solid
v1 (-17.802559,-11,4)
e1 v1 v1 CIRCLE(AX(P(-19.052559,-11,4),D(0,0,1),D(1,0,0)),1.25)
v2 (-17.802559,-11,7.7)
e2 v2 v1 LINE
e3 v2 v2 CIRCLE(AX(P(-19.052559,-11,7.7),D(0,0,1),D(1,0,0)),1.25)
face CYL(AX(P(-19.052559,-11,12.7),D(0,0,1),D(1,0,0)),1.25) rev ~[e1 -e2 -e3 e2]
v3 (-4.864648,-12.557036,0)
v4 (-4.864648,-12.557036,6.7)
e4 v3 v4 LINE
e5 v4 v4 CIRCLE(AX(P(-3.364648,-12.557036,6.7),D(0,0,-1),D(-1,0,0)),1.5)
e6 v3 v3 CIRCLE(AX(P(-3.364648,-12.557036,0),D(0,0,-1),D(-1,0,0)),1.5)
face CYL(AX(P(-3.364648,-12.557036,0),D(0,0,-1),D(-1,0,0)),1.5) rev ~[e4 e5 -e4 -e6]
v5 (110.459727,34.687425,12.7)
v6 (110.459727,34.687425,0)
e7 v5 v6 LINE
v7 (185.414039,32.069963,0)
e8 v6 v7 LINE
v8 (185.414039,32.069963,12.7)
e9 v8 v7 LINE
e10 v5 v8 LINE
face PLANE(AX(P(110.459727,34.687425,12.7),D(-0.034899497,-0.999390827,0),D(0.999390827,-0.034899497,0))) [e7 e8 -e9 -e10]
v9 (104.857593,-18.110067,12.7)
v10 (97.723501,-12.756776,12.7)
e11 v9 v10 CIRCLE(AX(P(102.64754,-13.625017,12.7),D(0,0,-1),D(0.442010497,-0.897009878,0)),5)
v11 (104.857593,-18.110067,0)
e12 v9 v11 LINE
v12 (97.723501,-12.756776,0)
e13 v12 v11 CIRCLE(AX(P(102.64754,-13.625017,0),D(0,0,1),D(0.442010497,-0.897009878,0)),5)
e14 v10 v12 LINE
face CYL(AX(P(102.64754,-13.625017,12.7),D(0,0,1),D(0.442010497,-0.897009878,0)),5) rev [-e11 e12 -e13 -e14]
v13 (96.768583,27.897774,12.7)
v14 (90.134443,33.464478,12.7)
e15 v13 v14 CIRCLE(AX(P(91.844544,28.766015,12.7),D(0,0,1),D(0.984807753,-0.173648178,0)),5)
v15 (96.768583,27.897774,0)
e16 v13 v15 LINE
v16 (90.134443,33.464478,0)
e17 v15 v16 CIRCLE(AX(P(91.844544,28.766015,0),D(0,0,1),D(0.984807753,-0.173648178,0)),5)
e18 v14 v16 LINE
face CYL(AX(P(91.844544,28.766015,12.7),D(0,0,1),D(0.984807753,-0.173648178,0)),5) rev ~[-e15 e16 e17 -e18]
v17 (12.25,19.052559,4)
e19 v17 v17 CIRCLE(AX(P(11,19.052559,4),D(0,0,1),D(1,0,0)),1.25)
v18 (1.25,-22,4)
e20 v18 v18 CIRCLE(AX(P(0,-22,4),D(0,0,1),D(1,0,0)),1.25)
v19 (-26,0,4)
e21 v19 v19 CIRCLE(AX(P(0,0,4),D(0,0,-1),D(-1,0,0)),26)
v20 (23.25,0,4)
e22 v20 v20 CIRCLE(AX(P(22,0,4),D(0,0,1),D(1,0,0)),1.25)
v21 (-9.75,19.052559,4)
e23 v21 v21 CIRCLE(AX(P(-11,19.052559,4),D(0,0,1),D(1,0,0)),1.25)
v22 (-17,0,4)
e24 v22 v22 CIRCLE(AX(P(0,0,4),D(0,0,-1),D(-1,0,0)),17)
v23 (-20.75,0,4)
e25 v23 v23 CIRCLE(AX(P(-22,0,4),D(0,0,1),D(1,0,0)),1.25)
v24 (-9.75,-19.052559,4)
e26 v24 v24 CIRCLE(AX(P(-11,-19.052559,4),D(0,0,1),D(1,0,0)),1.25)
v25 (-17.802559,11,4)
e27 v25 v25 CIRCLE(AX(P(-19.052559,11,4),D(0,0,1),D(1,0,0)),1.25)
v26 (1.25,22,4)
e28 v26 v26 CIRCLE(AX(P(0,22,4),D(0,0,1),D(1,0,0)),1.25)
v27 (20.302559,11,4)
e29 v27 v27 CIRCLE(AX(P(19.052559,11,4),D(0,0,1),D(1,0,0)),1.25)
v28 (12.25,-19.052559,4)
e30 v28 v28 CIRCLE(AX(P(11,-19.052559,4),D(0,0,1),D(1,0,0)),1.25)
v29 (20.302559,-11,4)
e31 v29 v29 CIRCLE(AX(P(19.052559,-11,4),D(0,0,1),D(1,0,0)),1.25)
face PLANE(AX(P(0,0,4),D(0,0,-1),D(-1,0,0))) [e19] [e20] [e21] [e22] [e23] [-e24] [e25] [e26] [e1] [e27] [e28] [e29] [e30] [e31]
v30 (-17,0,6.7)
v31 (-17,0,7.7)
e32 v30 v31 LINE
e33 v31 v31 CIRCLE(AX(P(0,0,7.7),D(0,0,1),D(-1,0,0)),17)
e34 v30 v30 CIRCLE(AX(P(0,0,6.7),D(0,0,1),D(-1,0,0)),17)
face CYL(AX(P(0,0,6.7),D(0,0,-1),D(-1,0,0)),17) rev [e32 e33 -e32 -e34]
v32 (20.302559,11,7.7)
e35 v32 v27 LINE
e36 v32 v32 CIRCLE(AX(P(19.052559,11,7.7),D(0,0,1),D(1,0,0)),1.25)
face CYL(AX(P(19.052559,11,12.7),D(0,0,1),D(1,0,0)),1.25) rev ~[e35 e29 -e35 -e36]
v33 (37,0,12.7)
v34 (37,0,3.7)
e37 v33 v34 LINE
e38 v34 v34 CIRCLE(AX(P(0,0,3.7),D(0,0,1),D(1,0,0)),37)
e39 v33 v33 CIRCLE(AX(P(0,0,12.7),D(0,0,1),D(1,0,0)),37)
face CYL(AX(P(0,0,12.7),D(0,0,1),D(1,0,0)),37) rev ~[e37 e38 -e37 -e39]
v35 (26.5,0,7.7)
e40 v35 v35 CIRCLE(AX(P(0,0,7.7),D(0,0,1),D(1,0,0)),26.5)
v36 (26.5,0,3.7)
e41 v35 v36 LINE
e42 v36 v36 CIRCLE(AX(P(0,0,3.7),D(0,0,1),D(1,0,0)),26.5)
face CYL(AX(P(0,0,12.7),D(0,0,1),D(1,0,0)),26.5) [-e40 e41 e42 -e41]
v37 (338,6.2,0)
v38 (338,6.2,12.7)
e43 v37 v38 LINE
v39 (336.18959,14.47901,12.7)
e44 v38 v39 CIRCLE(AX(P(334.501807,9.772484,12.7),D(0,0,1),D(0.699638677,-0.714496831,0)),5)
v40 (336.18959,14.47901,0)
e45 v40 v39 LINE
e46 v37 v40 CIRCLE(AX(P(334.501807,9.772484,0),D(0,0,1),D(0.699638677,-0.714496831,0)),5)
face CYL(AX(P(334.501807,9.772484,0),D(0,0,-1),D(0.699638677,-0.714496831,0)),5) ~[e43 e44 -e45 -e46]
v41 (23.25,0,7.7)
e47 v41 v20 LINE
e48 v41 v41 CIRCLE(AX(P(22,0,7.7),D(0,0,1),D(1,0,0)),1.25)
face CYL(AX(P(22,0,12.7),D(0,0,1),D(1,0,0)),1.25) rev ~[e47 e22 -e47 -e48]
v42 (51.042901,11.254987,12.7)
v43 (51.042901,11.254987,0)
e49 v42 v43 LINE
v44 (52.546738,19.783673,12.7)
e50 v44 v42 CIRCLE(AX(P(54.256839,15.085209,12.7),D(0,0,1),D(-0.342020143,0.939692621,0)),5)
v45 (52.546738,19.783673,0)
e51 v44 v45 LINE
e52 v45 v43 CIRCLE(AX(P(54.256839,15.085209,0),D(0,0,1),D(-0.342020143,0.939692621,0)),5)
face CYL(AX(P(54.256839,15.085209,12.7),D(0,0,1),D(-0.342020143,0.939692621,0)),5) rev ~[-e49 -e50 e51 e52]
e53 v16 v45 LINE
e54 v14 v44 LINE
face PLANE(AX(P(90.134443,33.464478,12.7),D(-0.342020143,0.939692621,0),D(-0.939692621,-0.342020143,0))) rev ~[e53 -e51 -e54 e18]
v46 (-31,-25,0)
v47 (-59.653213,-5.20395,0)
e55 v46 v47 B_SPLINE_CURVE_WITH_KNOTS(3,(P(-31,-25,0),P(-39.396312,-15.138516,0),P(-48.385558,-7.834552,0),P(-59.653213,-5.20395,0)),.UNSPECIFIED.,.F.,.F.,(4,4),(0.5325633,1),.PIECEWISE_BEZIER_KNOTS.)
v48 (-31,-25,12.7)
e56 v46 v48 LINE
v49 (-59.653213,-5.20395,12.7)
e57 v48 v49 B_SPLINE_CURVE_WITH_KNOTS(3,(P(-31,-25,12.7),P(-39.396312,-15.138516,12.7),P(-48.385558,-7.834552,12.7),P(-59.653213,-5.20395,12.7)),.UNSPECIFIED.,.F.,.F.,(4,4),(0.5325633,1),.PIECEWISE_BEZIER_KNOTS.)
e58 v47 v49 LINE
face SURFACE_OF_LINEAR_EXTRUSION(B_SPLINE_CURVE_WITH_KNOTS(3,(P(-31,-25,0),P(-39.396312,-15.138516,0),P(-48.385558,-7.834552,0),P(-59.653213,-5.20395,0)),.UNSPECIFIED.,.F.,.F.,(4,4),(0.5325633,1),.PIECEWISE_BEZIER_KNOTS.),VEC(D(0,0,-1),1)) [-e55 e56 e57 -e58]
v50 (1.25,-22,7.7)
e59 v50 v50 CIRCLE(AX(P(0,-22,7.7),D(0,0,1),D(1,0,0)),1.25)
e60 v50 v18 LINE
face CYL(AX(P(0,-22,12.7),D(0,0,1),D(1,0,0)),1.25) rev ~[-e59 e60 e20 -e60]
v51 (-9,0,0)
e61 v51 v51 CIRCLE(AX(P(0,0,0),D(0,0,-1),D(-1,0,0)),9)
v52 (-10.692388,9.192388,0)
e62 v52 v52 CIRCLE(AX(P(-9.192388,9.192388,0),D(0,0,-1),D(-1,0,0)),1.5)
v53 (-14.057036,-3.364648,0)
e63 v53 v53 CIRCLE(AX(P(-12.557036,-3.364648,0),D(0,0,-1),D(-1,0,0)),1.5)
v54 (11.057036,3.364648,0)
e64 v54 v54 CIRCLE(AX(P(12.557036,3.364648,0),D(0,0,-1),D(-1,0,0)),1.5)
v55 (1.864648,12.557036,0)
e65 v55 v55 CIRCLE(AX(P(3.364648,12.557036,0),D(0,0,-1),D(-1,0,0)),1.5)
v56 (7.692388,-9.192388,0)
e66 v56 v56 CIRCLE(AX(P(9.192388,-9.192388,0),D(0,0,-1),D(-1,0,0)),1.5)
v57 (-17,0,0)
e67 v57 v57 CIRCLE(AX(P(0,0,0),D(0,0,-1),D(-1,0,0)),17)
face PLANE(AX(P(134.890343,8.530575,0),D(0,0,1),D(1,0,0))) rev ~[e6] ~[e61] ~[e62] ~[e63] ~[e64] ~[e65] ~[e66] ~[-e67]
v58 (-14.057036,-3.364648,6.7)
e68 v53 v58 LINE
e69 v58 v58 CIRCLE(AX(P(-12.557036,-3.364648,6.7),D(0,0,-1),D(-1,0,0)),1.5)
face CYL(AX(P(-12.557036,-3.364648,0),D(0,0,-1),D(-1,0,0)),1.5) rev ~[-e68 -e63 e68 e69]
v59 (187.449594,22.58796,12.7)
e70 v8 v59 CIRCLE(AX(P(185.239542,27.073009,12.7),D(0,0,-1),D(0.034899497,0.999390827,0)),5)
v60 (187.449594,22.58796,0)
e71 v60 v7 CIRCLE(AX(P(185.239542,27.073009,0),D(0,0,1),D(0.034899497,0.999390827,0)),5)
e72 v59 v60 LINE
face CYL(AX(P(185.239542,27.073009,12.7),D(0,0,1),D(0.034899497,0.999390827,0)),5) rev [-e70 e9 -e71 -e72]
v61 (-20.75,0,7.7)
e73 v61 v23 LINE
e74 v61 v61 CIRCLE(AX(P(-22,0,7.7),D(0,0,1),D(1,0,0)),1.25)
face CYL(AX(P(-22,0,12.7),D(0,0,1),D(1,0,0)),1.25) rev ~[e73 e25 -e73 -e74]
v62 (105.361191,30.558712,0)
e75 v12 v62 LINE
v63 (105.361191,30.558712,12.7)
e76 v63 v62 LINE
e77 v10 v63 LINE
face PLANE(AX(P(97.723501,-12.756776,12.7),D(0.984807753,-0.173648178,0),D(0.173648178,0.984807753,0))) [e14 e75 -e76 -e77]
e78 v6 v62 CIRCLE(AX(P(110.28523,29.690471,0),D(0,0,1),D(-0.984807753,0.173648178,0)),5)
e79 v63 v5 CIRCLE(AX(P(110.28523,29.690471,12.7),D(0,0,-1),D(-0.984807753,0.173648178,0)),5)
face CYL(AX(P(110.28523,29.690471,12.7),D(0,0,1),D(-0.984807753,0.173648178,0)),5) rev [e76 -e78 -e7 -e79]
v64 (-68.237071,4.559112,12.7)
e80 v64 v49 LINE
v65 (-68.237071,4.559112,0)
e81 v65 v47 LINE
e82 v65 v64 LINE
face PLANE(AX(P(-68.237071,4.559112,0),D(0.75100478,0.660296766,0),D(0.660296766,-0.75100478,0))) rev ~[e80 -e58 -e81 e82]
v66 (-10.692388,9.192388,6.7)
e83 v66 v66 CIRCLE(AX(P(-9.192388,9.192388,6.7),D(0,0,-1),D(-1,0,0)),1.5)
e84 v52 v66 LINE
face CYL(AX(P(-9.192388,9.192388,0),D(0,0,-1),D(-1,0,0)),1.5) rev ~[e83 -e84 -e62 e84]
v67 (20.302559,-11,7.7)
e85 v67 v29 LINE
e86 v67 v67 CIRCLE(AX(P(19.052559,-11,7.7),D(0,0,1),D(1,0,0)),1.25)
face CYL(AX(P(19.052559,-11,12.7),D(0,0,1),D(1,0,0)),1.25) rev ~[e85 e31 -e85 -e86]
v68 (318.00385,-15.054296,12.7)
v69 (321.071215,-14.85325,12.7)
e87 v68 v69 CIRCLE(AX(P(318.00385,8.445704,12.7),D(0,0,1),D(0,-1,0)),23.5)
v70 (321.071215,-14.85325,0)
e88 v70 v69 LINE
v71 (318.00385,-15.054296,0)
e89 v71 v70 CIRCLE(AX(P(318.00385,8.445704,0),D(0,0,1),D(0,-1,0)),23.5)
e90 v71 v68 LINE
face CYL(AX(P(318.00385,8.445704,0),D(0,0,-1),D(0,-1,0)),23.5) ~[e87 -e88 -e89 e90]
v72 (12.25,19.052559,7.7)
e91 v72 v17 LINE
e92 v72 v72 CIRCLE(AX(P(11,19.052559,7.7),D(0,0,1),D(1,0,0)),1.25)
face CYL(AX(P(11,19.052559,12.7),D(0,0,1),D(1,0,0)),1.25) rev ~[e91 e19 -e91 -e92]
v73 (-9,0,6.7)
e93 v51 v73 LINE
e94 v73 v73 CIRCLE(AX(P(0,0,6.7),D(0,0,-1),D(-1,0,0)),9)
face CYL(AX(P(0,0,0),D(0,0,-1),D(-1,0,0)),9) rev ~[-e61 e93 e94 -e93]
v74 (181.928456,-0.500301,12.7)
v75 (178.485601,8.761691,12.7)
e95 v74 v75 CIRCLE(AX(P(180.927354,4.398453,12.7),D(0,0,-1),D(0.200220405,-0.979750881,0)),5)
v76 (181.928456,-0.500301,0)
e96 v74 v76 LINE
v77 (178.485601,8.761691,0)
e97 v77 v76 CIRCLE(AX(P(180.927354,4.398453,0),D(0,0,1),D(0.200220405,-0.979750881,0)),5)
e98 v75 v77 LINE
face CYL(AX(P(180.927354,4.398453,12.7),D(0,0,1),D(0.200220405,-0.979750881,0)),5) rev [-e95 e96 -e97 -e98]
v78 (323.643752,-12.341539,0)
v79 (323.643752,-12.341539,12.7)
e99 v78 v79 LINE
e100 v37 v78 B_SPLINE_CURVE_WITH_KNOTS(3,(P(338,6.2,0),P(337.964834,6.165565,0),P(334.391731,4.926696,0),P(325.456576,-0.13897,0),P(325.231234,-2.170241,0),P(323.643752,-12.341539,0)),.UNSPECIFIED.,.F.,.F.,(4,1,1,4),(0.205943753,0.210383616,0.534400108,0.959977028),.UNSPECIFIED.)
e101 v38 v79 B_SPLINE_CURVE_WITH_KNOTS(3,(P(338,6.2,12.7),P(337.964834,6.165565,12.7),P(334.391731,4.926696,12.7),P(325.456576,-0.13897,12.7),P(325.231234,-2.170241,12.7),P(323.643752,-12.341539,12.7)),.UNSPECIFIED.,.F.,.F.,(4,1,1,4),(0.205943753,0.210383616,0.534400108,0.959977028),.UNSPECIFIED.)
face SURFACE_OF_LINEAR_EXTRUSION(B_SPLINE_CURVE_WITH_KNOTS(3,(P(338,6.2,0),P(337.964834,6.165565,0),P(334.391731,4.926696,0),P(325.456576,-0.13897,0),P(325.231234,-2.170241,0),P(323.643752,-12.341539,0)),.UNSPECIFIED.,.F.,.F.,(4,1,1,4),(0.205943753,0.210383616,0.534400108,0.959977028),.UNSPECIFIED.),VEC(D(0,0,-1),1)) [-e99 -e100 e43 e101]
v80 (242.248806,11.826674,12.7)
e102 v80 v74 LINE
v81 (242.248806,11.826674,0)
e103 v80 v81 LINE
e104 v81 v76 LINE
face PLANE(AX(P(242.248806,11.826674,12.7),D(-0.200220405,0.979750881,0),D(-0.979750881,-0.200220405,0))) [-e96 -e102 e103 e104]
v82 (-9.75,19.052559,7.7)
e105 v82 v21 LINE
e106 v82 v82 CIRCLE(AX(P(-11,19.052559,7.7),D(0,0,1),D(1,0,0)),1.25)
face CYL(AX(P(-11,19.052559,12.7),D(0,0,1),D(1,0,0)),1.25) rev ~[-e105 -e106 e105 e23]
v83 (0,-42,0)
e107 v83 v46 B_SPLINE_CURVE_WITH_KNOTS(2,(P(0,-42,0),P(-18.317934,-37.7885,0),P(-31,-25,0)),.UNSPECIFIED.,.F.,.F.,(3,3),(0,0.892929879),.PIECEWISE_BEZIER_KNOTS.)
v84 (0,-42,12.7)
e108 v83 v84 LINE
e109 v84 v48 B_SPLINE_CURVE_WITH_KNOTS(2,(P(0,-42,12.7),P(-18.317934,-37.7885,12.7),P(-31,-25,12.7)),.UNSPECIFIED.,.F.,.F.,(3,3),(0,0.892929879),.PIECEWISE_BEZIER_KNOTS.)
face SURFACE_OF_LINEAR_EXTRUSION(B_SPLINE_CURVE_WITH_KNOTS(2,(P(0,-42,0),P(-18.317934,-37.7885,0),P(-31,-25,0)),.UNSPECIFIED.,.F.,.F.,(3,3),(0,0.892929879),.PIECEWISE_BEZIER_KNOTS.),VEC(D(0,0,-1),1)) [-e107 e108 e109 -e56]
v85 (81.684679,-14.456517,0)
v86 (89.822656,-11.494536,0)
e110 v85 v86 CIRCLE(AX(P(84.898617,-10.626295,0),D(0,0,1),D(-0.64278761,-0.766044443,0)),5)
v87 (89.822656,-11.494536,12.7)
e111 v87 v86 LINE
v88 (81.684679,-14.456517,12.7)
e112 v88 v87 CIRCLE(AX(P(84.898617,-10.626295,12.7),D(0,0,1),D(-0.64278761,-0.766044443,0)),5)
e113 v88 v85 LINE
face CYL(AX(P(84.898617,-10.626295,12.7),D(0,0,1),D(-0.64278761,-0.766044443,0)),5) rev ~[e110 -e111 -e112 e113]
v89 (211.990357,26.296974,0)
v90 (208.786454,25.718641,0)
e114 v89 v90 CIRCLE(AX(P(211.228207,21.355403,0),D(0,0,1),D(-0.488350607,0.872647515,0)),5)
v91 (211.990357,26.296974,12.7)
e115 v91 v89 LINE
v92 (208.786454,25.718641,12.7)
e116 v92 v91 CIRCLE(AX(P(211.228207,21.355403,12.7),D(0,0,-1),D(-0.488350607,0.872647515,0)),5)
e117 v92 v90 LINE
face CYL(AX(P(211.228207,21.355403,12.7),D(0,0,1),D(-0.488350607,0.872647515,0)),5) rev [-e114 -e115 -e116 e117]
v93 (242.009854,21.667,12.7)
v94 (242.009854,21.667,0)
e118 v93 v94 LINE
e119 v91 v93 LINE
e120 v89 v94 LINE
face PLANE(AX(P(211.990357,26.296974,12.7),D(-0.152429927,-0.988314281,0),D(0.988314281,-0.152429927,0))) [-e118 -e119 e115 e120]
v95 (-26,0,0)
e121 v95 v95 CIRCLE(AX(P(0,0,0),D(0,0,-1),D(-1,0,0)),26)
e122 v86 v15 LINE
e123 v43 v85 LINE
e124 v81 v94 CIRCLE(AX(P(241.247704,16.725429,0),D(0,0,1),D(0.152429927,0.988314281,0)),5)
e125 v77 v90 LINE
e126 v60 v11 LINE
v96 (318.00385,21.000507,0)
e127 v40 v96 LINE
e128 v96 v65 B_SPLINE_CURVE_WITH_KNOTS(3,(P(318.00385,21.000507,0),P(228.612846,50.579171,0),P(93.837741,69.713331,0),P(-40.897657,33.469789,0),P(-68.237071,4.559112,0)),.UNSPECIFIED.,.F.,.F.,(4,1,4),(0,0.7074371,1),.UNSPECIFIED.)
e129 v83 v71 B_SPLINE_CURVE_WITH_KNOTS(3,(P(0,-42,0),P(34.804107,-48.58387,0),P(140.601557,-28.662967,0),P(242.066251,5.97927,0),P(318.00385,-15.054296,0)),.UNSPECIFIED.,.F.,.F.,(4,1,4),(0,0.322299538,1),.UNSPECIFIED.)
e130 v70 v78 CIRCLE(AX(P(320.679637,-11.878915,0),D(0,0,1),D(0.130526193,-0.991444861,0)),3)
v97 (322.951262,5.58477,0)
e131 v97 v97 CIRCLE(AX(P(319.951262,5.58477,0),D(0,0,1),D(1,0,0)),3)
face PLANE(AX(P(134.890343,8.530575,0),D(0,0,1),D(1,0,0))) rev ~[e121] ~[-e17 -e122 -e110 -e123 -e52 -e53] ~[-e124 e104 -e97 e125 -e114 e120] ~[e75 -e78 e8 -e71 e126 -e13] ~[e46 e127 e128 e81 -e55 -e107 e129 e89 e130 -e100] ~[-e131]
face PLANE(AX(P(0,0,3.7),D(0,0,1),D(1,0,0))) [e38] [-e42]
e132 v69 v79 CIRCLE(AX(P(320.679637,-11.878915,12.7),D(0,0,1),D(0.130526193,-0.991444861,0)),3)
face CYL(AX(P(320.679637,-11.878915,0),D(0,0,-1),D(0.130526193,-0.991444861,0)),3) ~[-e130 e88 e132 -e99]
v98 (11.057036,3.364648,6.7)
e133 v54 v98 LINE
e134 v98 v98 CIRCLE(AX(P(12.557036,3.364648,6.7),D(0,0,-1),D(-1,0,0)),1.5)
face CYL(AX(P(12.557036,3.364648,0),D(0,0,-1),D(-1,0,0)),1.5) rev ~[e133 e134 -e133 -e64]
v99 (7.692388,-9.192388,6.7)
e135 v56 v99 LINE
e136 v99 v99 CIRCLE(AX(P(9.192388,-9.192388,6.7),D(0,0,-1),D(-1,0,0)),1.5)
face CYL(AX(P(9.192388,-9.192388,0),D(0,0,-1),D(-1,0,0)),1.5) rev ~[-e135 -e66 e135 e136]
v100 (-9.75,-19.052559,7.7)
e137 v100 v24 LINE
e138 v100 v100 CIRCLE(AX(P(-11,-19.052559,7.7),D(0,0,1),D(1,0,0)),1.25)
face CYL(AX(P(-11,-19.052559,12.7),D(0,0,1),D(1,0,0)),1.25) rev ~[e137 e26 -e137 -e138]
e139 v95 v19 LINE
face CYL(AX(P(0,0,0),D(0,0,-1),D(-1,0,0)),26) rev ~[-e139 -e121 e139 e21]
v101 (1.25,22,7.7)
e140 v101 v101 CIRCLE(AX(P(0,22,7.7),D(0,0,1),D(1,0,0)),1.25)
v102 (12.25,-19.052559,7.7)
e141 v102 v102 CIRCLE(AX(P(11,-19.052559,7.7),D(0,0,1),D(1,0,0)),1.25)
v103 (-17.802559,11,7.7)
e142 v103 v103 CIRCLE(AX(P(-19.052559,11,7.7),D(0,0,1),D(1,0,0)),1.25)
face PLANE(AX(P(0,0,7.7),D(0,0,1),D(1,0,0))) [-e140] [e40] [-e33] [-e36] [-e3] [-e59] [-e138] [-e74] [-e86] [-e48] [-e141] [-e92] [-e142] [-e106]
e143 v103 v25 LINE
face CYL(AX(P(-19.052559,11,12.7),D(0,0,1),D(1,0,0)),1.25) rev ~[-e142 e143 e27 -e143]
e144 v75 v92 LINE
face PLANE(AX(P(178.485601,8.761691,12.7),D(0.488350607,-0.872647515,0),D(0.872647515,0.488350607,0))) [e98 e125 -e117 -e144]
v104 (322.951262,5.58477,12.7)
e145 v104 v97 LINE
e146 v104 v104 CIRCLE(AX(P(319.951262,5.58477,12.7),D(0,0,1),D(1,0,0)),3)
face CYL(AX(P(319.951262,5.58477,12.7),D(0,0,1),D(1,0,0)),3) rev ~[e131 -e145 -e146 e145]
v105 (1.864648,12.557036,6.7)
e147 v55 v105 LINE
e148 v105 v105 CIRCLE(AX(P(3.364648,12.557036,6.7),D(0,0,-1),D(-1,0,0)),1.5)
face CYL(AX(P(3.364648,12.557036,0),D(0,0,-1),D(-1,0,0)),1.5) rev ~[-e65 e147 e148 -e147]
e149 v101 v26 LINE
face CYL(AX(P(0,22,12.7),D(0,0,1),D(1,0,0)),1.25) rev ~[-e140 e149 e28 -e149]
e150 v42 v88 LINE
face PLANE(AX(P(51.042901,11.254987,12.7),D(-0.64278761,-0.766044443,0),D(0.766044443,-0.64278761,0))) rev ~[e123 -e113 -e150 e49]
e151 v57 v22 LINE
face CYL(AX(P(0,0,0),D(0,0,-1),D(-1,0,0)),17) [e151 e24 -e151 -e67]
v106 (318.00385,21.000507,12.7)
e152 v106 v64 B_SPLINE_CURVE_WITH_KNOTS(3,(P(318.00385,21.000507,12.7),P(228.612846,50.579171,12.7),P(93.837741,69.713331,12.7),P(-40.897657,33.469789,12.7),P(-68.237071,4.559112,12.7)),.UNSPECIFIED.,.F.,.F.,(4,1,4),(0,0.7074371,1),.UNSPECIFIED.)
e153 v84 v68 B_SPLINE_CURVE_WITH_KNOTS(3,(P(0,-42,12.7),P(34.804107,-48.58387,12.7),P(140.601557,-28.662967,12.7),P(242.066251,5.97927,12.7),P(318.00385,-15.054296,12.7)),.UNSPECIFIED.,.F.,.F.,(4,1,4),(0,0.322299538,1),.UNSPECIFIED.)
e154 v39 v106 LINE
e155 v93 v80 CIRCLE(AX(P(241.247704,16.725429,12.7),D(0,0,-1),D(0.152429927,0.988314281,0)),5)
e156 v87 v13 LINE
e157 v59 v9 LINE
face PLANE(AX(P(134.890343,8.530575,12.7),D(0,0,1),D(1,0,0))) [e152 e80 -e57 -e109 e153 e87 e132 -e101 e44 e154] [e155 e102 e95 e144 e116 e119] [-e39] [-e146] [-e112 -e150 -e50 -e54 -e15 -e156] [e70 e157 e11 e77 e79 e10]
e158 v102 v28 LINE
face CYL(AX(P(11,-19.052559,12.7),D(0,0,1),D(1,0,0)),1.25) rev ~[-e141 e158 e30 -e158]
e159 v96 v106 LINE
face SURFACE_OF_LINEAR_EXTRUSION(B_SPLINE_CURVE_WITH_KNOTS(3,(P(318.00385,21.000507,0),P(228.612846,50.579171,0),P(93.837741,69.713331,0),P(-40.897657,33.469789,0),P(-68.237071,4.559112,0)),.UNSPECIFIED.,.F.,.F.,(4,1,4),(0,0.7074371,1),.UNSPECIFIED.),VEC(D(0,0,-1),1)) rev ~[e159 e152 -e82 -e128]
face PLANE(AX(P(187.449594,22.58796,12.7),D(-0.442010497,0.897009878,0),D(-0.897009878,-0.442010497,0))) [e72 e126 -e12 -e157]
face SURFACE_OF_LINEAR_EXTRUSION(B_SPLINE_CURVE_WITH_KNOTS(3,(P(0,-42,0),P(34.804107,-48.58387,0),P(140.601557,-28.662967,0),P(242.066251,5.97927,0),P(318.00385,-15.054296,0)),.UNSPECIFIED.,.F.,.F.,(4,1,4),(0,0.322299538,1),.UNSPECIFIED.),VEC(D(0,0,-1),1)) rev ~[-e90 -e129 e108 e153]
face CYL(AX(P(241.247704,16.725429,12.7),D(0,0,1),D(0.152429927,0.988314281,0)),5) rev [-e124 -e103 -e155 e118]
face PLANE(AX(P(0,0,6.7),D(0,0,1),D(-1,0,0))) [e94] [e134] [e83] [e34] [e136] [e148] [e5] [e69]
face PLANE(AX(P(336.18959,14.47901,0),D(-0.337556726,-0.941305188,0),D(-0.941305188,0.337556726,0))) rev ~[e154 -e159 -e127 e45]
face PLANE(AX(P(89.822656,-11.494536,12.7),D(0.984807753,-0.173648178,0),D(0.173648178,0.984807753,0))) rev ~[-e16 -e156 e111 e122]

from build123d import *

# Parameters (mm, degrees)
SALIENTE_EXTRUIR1_DEPTH = 12.7
CORTAR_EXTRUIR20_DEPTH  = 62
CROQUIS12_R             = 26
CROQUIS12_R_2           = 17
CORTAR_EXTRUIR21_DEPTH  = 4
CROQUIS6_R              = 1.25
CORTAR_EXTRUIR22_DEPTH  = 29
CROQUIS13_R             = 1.5
CORTAR_EXTRUIR23_DEPTH  = 29
CROQUIS8_R              = 3
CORTAR_EXTRUIR27_DEPTH  = 64
CROQUIS5_R              = 36
CORTAR_EXTRUIR28_DEPTH  = 4
CROQUIS22_R             = 27
CORTAR_EXTRUIR32_DEPTH  = 1
CORTAR_EXTRUIR33_START  = -1
CROQUIS23_R             = 17
CORTAR_EXTRUIR33_DEPTH  = 1
CROQUIS24_R             = 9
CORTAR_EXTRUIR34_DEPTH  = 67
CROQUIS26_R             = 37
CROQUIS26_R_2           = 26.5
CORTAR_EXTRUIR38_DEPTH  = 9


with BuildPart() as part:
    # Croquis2 → Saliente-Extruir1 (new body)
    with BuildSketch(Plane.XY):
        with BuildLine():
            add(Edge.make_bspline(
                [(318.003849686, 21.000507192), (228.612845689, 50.579171404), (93.837740705, 69.713331037), (-40.897656903, 33.469788637), (-68.237071347, 4.559111896)],
                knots=[0, 0, 0, 0, 0.7074371, 1, 1, 1, 1], degree=3))
            Line((-68.237071347, 4.559111896), (-59.653213383, -5.20395025))
            add(Edge.make_bspline(
                [(-31, -25), (-39.39631193, -15.138516418), (-48.385558495, -7.834552383), (-59.653213383, -5.20395025)],
                knots=[0.5325633, 0.5325633, 0.5325633, 0.5325633, 1, 1, 1, 1], degree=3))
            add(Edge.make_bspline(
                [(0, -42), (-18.317933693, -37.788499598), (-31, -25)],
                knots=[0, 0, 0, 0.892929879, 0.892929879, 0.892929879], degree=2))
            add(Edge.make_bspline(
                [(0, -42), (34.804106533, -48.583870116), (140.601557422, -28.662967351), (242.066250638, 5.979270436), (318.003849686, -15.054295763)],
                knots=[0, 0, 0, 0, 0.322299538, 1, 1, 1, 1], degree=3))
            ThreePointArc((318.003849686, -15.054295763), (319.540823222, -15.003980459), (321.071215203, -14.853250005))
            ThreePointArc((321.071215203, -14.853250005), (322.775428516, -14.025460634), (323.64375194, -12.341538815))
            add(Edge.make_bspline(
                [(338, 6.2), (337.96483394, 6.165565228), (334.391730923, 4.926696382), (325.456575586, -0.138969503), (325.231234185, -2.170240746), (323.64375194, -12.341538815)],
                knots=[0.205943753, 0.205943753, 0.205943753, 0.205943753, 0.210383616, 0.534400108, 0.959977028, 0.959977028, 0.959977028, 0.959977028], degree=3))
            ThreePointArc((338, 6.2), (339.38638351, 10.840617369), (336.189590247, 14.479010095))
            Line((336.189590247, 14.479010095), (318.003849686, 21.000507192))
        make_face()
    extrude(amount=SALIENTE_EXTRUIR1_DEPTH)

    # Croquis15 → Cortar-Extruir20 (cut)
    with BuildSketch(Plane.XY.offset(12.7)):
        with BuildLine():
            Line((97.723501447, -12.756776492), (105.361190757, 30.558712033))
            ThreePointArc((105.361190757, 30.558712033), (107.138627567, 33.576200952), (110.459727005, 34.68742528))
            Line((110.459727005, 34.68742528), (185.414039032, 32.069963027))
            ThreePointArc((185.414039032, 32.069963027), (190.128162759, 28.12247669), (187.449594034, 22.587959504))
            Line((187.449594034, 22.587959504), (104.857592698, -18.110066768))
            ThreePointArc((104.857592698, -18.110066768), (99.646563775, -17.624284866), (97.723501447, -12.756776492))
        make_face()
        with BuildLine():
            Line((89.822655638, -11.494535825), (96.768582744, 27.897774295))
            ThreePointArc((96.768582744, 27.897774295), (95.058482028, 32.596237399), (90.134443263, 33.464478287))
            Line((90.134443263, 33.464478287), (52.546738431, 19.783672554))
            ThreePointArc((52.546738431, 19.783672554), (49.332800383, 15.953450339), (51.0429011, 11.254987235))
            Line((51.0429011, 11.254987235), (81.684678824, -14.456517153))
            ThreePointArc((81.684678824, -14.456517153), (86.608717589, -15.324758041), (89.822655638, -11.494535825))
        make_face()
        with BuildLine():
            Line((178.485600868, 8.76169092), (208.786453861, 25.718640542))
            ThreePointArc((208.786453861, 25.718640542), (210.340015249, 26.275882173), (211.990356529, 26.296974372))
            Line((211.990356529, 26.296974372), (242.009853595, 21.667000055))
            ThreePointArc((242.009853595, 21.667000055), (246.246230456, 16.846807749), (242.248805987, 11.826674245))
            Line((242.248805987, 11.826674245), (181.928455927, -0.50030106))
            ThreePointArc((181.928455927, -0.50030106), (176.240671419, 2.65632611), (178.485600868, 8.76169092))
        make_face()
    extrude(amount=-CORTAR_EXTRUIR20_DEPTH, mode=Mode.SUBTRACT)

    # Croquis12 → Cortar-Extruir21 (cut)
    with BuildSketch(Plane(origin=(0, 0, 0), x_dir=(-1, 0, 0), z_dir=(0, 0, -1))):
        Circle(CROQUIS12_R)
        Circle(CROQUIS12_R_2, mode=Mode.SUBTRACT)
    extrude(amount=-CORTAR_EXTRUIR21_DEPTH, mode=Mode.SUBTRACT)

    # Croquis6 → Cortar-Extruir22 (cut)
    with BuildSketch(Plane.XY.offset(12.7)):
        with Locations((0, 22)):
            Circle(CROQUIS6_R)
        with Locations((11, 19.052558883)):
            Circle(CROQUIS6_R)
        with Locations((19.052558883, 11)):
            Circle(CROQUIS6_R)
        with Locations((22, 0)):
            Circle(CROQUIS6_R)
        with Locations((19.052558883, -11)):
            Circle(CROQUIS6_R)
        with Locations((11, -19.052558883)):
            Circle(CROQUIS6_R)
        with Locations((0, -22)):
            Circle(CROQUIS6_R)
        with Locations((-11, -19.052558883)):
            Circle(CROQUIS6_R)
        with Locations((-19.052558883, -11)):
            Circle(CROQUIS6_R)
        with Locations((-22, 0)):
            Circle(CROQUIS6_R)
        with Locations((-19.052558883, 11)):
            Circle(CROQUIS6_R)
        with Locations((-11, 19.052558883)):
            Circle(CROQUIS6_R)
    extrude(amount=-CORTAR_EXTRUIR22_DEPTH, mode=Mode.SUBTRACT)

    # Croquis13 → Cortar-Extruir23 (cut)
    with BuildSketch(Plane(origin=(0, 0, 0), x_dir=(-1, 0, 0), z_dir=(0, 0, -1))):
        with Locations((12.557035742, -3.364647586)):
            Circle(CROQUIS13_R)
        with Locations((3.364647586, -12.557035742)):
            Circle(CROQUIS13_R)
        with Locations((-9.192388155, -9.192388155)):
            Circle(CROQUIS13_R)
        with Locations((9.192388155, 9.192388155)):
            Circle(CROQUIS13_R)
        with Locations((-12.557035742, 3.364647586)):
            Circle(CROQUIS13_R)
        with Locations((-3.364647586, 12.557035742)):
            Circle(CROQUIS13_R)
    extrude(amount=-CORTAR_EXTRUIR23_DEPTH, mode=Mode.SUBTRACT)

    # Croquis8 → Cortar-Extruir27 (cut)
    with BuildSketch(Plane.XY.offset(12.7)):
        with Locations((319.95126245, 5.58477006)):
            Circle(CROQUIS8_R)
    extrude(amount=-CORTAR_EXTRUIR27_DEPTH, mode=Mode.SUBTRACT)

    # Croquis5 → Cortar-Extruir28 (cut)
    with BuildSketch(Plane.XY.offset(12.7)):
        Circle(CROQUIS5_R)
    extrude(amount=-CORTAR_EXTRUIR28_DEPTH, mode=Mode.SUBTRACT)

    # Croquis22 → Cortar-Extruir32 (cut)
    with BuildSketch(Plane.XY.offset(8.7)):
        Circle(CROQUIS22_R)
    extrude(amount=-CORTAR_EXTRUIR32_DEPTH, mode=Mode.SUBTRACT)

    # Croquis23 → Cortar-Extruir33 (cut)
    with BuildSketch(Plane.XY.offset(7.7).offset(CORTAR_EXTRUIR33_START)):
        with Locations(Location((0, 0, 0), (0, 0, 180))):
            Circle(CROQUIS23_R)
    extrude(amount=CORTAR_EXTRUIR33_DEPTH, mode=Mode.SUBTRACT)

    # Croquis24 → Cortar-Extruir34 (cut)
    with BuildSketch(Plane(origin=(0, 0, 0), x_dir=(-1, 0, 0), z_dir=(0, 0, -1))):
        Circle(CROQUIS24_R)
    extrude(amount=-CORTAR_EXTRUIR34_DEPTH, mode=Mode.SUBTRACT)

    # Croquis26 → Cortar-Extruir38 (cut)
    with BuildSketch(Plane.XY.offset(12.7)):
        Circle(CROQUIS26_R)
        Circle(CROQUIS26_R_2, mode=Mode.SUBTRACT)
    extrude(amount=-CORTAR_EXTRUIR38_DEPTH, mode=Mode.SUBTRACT)


solid = part.part
